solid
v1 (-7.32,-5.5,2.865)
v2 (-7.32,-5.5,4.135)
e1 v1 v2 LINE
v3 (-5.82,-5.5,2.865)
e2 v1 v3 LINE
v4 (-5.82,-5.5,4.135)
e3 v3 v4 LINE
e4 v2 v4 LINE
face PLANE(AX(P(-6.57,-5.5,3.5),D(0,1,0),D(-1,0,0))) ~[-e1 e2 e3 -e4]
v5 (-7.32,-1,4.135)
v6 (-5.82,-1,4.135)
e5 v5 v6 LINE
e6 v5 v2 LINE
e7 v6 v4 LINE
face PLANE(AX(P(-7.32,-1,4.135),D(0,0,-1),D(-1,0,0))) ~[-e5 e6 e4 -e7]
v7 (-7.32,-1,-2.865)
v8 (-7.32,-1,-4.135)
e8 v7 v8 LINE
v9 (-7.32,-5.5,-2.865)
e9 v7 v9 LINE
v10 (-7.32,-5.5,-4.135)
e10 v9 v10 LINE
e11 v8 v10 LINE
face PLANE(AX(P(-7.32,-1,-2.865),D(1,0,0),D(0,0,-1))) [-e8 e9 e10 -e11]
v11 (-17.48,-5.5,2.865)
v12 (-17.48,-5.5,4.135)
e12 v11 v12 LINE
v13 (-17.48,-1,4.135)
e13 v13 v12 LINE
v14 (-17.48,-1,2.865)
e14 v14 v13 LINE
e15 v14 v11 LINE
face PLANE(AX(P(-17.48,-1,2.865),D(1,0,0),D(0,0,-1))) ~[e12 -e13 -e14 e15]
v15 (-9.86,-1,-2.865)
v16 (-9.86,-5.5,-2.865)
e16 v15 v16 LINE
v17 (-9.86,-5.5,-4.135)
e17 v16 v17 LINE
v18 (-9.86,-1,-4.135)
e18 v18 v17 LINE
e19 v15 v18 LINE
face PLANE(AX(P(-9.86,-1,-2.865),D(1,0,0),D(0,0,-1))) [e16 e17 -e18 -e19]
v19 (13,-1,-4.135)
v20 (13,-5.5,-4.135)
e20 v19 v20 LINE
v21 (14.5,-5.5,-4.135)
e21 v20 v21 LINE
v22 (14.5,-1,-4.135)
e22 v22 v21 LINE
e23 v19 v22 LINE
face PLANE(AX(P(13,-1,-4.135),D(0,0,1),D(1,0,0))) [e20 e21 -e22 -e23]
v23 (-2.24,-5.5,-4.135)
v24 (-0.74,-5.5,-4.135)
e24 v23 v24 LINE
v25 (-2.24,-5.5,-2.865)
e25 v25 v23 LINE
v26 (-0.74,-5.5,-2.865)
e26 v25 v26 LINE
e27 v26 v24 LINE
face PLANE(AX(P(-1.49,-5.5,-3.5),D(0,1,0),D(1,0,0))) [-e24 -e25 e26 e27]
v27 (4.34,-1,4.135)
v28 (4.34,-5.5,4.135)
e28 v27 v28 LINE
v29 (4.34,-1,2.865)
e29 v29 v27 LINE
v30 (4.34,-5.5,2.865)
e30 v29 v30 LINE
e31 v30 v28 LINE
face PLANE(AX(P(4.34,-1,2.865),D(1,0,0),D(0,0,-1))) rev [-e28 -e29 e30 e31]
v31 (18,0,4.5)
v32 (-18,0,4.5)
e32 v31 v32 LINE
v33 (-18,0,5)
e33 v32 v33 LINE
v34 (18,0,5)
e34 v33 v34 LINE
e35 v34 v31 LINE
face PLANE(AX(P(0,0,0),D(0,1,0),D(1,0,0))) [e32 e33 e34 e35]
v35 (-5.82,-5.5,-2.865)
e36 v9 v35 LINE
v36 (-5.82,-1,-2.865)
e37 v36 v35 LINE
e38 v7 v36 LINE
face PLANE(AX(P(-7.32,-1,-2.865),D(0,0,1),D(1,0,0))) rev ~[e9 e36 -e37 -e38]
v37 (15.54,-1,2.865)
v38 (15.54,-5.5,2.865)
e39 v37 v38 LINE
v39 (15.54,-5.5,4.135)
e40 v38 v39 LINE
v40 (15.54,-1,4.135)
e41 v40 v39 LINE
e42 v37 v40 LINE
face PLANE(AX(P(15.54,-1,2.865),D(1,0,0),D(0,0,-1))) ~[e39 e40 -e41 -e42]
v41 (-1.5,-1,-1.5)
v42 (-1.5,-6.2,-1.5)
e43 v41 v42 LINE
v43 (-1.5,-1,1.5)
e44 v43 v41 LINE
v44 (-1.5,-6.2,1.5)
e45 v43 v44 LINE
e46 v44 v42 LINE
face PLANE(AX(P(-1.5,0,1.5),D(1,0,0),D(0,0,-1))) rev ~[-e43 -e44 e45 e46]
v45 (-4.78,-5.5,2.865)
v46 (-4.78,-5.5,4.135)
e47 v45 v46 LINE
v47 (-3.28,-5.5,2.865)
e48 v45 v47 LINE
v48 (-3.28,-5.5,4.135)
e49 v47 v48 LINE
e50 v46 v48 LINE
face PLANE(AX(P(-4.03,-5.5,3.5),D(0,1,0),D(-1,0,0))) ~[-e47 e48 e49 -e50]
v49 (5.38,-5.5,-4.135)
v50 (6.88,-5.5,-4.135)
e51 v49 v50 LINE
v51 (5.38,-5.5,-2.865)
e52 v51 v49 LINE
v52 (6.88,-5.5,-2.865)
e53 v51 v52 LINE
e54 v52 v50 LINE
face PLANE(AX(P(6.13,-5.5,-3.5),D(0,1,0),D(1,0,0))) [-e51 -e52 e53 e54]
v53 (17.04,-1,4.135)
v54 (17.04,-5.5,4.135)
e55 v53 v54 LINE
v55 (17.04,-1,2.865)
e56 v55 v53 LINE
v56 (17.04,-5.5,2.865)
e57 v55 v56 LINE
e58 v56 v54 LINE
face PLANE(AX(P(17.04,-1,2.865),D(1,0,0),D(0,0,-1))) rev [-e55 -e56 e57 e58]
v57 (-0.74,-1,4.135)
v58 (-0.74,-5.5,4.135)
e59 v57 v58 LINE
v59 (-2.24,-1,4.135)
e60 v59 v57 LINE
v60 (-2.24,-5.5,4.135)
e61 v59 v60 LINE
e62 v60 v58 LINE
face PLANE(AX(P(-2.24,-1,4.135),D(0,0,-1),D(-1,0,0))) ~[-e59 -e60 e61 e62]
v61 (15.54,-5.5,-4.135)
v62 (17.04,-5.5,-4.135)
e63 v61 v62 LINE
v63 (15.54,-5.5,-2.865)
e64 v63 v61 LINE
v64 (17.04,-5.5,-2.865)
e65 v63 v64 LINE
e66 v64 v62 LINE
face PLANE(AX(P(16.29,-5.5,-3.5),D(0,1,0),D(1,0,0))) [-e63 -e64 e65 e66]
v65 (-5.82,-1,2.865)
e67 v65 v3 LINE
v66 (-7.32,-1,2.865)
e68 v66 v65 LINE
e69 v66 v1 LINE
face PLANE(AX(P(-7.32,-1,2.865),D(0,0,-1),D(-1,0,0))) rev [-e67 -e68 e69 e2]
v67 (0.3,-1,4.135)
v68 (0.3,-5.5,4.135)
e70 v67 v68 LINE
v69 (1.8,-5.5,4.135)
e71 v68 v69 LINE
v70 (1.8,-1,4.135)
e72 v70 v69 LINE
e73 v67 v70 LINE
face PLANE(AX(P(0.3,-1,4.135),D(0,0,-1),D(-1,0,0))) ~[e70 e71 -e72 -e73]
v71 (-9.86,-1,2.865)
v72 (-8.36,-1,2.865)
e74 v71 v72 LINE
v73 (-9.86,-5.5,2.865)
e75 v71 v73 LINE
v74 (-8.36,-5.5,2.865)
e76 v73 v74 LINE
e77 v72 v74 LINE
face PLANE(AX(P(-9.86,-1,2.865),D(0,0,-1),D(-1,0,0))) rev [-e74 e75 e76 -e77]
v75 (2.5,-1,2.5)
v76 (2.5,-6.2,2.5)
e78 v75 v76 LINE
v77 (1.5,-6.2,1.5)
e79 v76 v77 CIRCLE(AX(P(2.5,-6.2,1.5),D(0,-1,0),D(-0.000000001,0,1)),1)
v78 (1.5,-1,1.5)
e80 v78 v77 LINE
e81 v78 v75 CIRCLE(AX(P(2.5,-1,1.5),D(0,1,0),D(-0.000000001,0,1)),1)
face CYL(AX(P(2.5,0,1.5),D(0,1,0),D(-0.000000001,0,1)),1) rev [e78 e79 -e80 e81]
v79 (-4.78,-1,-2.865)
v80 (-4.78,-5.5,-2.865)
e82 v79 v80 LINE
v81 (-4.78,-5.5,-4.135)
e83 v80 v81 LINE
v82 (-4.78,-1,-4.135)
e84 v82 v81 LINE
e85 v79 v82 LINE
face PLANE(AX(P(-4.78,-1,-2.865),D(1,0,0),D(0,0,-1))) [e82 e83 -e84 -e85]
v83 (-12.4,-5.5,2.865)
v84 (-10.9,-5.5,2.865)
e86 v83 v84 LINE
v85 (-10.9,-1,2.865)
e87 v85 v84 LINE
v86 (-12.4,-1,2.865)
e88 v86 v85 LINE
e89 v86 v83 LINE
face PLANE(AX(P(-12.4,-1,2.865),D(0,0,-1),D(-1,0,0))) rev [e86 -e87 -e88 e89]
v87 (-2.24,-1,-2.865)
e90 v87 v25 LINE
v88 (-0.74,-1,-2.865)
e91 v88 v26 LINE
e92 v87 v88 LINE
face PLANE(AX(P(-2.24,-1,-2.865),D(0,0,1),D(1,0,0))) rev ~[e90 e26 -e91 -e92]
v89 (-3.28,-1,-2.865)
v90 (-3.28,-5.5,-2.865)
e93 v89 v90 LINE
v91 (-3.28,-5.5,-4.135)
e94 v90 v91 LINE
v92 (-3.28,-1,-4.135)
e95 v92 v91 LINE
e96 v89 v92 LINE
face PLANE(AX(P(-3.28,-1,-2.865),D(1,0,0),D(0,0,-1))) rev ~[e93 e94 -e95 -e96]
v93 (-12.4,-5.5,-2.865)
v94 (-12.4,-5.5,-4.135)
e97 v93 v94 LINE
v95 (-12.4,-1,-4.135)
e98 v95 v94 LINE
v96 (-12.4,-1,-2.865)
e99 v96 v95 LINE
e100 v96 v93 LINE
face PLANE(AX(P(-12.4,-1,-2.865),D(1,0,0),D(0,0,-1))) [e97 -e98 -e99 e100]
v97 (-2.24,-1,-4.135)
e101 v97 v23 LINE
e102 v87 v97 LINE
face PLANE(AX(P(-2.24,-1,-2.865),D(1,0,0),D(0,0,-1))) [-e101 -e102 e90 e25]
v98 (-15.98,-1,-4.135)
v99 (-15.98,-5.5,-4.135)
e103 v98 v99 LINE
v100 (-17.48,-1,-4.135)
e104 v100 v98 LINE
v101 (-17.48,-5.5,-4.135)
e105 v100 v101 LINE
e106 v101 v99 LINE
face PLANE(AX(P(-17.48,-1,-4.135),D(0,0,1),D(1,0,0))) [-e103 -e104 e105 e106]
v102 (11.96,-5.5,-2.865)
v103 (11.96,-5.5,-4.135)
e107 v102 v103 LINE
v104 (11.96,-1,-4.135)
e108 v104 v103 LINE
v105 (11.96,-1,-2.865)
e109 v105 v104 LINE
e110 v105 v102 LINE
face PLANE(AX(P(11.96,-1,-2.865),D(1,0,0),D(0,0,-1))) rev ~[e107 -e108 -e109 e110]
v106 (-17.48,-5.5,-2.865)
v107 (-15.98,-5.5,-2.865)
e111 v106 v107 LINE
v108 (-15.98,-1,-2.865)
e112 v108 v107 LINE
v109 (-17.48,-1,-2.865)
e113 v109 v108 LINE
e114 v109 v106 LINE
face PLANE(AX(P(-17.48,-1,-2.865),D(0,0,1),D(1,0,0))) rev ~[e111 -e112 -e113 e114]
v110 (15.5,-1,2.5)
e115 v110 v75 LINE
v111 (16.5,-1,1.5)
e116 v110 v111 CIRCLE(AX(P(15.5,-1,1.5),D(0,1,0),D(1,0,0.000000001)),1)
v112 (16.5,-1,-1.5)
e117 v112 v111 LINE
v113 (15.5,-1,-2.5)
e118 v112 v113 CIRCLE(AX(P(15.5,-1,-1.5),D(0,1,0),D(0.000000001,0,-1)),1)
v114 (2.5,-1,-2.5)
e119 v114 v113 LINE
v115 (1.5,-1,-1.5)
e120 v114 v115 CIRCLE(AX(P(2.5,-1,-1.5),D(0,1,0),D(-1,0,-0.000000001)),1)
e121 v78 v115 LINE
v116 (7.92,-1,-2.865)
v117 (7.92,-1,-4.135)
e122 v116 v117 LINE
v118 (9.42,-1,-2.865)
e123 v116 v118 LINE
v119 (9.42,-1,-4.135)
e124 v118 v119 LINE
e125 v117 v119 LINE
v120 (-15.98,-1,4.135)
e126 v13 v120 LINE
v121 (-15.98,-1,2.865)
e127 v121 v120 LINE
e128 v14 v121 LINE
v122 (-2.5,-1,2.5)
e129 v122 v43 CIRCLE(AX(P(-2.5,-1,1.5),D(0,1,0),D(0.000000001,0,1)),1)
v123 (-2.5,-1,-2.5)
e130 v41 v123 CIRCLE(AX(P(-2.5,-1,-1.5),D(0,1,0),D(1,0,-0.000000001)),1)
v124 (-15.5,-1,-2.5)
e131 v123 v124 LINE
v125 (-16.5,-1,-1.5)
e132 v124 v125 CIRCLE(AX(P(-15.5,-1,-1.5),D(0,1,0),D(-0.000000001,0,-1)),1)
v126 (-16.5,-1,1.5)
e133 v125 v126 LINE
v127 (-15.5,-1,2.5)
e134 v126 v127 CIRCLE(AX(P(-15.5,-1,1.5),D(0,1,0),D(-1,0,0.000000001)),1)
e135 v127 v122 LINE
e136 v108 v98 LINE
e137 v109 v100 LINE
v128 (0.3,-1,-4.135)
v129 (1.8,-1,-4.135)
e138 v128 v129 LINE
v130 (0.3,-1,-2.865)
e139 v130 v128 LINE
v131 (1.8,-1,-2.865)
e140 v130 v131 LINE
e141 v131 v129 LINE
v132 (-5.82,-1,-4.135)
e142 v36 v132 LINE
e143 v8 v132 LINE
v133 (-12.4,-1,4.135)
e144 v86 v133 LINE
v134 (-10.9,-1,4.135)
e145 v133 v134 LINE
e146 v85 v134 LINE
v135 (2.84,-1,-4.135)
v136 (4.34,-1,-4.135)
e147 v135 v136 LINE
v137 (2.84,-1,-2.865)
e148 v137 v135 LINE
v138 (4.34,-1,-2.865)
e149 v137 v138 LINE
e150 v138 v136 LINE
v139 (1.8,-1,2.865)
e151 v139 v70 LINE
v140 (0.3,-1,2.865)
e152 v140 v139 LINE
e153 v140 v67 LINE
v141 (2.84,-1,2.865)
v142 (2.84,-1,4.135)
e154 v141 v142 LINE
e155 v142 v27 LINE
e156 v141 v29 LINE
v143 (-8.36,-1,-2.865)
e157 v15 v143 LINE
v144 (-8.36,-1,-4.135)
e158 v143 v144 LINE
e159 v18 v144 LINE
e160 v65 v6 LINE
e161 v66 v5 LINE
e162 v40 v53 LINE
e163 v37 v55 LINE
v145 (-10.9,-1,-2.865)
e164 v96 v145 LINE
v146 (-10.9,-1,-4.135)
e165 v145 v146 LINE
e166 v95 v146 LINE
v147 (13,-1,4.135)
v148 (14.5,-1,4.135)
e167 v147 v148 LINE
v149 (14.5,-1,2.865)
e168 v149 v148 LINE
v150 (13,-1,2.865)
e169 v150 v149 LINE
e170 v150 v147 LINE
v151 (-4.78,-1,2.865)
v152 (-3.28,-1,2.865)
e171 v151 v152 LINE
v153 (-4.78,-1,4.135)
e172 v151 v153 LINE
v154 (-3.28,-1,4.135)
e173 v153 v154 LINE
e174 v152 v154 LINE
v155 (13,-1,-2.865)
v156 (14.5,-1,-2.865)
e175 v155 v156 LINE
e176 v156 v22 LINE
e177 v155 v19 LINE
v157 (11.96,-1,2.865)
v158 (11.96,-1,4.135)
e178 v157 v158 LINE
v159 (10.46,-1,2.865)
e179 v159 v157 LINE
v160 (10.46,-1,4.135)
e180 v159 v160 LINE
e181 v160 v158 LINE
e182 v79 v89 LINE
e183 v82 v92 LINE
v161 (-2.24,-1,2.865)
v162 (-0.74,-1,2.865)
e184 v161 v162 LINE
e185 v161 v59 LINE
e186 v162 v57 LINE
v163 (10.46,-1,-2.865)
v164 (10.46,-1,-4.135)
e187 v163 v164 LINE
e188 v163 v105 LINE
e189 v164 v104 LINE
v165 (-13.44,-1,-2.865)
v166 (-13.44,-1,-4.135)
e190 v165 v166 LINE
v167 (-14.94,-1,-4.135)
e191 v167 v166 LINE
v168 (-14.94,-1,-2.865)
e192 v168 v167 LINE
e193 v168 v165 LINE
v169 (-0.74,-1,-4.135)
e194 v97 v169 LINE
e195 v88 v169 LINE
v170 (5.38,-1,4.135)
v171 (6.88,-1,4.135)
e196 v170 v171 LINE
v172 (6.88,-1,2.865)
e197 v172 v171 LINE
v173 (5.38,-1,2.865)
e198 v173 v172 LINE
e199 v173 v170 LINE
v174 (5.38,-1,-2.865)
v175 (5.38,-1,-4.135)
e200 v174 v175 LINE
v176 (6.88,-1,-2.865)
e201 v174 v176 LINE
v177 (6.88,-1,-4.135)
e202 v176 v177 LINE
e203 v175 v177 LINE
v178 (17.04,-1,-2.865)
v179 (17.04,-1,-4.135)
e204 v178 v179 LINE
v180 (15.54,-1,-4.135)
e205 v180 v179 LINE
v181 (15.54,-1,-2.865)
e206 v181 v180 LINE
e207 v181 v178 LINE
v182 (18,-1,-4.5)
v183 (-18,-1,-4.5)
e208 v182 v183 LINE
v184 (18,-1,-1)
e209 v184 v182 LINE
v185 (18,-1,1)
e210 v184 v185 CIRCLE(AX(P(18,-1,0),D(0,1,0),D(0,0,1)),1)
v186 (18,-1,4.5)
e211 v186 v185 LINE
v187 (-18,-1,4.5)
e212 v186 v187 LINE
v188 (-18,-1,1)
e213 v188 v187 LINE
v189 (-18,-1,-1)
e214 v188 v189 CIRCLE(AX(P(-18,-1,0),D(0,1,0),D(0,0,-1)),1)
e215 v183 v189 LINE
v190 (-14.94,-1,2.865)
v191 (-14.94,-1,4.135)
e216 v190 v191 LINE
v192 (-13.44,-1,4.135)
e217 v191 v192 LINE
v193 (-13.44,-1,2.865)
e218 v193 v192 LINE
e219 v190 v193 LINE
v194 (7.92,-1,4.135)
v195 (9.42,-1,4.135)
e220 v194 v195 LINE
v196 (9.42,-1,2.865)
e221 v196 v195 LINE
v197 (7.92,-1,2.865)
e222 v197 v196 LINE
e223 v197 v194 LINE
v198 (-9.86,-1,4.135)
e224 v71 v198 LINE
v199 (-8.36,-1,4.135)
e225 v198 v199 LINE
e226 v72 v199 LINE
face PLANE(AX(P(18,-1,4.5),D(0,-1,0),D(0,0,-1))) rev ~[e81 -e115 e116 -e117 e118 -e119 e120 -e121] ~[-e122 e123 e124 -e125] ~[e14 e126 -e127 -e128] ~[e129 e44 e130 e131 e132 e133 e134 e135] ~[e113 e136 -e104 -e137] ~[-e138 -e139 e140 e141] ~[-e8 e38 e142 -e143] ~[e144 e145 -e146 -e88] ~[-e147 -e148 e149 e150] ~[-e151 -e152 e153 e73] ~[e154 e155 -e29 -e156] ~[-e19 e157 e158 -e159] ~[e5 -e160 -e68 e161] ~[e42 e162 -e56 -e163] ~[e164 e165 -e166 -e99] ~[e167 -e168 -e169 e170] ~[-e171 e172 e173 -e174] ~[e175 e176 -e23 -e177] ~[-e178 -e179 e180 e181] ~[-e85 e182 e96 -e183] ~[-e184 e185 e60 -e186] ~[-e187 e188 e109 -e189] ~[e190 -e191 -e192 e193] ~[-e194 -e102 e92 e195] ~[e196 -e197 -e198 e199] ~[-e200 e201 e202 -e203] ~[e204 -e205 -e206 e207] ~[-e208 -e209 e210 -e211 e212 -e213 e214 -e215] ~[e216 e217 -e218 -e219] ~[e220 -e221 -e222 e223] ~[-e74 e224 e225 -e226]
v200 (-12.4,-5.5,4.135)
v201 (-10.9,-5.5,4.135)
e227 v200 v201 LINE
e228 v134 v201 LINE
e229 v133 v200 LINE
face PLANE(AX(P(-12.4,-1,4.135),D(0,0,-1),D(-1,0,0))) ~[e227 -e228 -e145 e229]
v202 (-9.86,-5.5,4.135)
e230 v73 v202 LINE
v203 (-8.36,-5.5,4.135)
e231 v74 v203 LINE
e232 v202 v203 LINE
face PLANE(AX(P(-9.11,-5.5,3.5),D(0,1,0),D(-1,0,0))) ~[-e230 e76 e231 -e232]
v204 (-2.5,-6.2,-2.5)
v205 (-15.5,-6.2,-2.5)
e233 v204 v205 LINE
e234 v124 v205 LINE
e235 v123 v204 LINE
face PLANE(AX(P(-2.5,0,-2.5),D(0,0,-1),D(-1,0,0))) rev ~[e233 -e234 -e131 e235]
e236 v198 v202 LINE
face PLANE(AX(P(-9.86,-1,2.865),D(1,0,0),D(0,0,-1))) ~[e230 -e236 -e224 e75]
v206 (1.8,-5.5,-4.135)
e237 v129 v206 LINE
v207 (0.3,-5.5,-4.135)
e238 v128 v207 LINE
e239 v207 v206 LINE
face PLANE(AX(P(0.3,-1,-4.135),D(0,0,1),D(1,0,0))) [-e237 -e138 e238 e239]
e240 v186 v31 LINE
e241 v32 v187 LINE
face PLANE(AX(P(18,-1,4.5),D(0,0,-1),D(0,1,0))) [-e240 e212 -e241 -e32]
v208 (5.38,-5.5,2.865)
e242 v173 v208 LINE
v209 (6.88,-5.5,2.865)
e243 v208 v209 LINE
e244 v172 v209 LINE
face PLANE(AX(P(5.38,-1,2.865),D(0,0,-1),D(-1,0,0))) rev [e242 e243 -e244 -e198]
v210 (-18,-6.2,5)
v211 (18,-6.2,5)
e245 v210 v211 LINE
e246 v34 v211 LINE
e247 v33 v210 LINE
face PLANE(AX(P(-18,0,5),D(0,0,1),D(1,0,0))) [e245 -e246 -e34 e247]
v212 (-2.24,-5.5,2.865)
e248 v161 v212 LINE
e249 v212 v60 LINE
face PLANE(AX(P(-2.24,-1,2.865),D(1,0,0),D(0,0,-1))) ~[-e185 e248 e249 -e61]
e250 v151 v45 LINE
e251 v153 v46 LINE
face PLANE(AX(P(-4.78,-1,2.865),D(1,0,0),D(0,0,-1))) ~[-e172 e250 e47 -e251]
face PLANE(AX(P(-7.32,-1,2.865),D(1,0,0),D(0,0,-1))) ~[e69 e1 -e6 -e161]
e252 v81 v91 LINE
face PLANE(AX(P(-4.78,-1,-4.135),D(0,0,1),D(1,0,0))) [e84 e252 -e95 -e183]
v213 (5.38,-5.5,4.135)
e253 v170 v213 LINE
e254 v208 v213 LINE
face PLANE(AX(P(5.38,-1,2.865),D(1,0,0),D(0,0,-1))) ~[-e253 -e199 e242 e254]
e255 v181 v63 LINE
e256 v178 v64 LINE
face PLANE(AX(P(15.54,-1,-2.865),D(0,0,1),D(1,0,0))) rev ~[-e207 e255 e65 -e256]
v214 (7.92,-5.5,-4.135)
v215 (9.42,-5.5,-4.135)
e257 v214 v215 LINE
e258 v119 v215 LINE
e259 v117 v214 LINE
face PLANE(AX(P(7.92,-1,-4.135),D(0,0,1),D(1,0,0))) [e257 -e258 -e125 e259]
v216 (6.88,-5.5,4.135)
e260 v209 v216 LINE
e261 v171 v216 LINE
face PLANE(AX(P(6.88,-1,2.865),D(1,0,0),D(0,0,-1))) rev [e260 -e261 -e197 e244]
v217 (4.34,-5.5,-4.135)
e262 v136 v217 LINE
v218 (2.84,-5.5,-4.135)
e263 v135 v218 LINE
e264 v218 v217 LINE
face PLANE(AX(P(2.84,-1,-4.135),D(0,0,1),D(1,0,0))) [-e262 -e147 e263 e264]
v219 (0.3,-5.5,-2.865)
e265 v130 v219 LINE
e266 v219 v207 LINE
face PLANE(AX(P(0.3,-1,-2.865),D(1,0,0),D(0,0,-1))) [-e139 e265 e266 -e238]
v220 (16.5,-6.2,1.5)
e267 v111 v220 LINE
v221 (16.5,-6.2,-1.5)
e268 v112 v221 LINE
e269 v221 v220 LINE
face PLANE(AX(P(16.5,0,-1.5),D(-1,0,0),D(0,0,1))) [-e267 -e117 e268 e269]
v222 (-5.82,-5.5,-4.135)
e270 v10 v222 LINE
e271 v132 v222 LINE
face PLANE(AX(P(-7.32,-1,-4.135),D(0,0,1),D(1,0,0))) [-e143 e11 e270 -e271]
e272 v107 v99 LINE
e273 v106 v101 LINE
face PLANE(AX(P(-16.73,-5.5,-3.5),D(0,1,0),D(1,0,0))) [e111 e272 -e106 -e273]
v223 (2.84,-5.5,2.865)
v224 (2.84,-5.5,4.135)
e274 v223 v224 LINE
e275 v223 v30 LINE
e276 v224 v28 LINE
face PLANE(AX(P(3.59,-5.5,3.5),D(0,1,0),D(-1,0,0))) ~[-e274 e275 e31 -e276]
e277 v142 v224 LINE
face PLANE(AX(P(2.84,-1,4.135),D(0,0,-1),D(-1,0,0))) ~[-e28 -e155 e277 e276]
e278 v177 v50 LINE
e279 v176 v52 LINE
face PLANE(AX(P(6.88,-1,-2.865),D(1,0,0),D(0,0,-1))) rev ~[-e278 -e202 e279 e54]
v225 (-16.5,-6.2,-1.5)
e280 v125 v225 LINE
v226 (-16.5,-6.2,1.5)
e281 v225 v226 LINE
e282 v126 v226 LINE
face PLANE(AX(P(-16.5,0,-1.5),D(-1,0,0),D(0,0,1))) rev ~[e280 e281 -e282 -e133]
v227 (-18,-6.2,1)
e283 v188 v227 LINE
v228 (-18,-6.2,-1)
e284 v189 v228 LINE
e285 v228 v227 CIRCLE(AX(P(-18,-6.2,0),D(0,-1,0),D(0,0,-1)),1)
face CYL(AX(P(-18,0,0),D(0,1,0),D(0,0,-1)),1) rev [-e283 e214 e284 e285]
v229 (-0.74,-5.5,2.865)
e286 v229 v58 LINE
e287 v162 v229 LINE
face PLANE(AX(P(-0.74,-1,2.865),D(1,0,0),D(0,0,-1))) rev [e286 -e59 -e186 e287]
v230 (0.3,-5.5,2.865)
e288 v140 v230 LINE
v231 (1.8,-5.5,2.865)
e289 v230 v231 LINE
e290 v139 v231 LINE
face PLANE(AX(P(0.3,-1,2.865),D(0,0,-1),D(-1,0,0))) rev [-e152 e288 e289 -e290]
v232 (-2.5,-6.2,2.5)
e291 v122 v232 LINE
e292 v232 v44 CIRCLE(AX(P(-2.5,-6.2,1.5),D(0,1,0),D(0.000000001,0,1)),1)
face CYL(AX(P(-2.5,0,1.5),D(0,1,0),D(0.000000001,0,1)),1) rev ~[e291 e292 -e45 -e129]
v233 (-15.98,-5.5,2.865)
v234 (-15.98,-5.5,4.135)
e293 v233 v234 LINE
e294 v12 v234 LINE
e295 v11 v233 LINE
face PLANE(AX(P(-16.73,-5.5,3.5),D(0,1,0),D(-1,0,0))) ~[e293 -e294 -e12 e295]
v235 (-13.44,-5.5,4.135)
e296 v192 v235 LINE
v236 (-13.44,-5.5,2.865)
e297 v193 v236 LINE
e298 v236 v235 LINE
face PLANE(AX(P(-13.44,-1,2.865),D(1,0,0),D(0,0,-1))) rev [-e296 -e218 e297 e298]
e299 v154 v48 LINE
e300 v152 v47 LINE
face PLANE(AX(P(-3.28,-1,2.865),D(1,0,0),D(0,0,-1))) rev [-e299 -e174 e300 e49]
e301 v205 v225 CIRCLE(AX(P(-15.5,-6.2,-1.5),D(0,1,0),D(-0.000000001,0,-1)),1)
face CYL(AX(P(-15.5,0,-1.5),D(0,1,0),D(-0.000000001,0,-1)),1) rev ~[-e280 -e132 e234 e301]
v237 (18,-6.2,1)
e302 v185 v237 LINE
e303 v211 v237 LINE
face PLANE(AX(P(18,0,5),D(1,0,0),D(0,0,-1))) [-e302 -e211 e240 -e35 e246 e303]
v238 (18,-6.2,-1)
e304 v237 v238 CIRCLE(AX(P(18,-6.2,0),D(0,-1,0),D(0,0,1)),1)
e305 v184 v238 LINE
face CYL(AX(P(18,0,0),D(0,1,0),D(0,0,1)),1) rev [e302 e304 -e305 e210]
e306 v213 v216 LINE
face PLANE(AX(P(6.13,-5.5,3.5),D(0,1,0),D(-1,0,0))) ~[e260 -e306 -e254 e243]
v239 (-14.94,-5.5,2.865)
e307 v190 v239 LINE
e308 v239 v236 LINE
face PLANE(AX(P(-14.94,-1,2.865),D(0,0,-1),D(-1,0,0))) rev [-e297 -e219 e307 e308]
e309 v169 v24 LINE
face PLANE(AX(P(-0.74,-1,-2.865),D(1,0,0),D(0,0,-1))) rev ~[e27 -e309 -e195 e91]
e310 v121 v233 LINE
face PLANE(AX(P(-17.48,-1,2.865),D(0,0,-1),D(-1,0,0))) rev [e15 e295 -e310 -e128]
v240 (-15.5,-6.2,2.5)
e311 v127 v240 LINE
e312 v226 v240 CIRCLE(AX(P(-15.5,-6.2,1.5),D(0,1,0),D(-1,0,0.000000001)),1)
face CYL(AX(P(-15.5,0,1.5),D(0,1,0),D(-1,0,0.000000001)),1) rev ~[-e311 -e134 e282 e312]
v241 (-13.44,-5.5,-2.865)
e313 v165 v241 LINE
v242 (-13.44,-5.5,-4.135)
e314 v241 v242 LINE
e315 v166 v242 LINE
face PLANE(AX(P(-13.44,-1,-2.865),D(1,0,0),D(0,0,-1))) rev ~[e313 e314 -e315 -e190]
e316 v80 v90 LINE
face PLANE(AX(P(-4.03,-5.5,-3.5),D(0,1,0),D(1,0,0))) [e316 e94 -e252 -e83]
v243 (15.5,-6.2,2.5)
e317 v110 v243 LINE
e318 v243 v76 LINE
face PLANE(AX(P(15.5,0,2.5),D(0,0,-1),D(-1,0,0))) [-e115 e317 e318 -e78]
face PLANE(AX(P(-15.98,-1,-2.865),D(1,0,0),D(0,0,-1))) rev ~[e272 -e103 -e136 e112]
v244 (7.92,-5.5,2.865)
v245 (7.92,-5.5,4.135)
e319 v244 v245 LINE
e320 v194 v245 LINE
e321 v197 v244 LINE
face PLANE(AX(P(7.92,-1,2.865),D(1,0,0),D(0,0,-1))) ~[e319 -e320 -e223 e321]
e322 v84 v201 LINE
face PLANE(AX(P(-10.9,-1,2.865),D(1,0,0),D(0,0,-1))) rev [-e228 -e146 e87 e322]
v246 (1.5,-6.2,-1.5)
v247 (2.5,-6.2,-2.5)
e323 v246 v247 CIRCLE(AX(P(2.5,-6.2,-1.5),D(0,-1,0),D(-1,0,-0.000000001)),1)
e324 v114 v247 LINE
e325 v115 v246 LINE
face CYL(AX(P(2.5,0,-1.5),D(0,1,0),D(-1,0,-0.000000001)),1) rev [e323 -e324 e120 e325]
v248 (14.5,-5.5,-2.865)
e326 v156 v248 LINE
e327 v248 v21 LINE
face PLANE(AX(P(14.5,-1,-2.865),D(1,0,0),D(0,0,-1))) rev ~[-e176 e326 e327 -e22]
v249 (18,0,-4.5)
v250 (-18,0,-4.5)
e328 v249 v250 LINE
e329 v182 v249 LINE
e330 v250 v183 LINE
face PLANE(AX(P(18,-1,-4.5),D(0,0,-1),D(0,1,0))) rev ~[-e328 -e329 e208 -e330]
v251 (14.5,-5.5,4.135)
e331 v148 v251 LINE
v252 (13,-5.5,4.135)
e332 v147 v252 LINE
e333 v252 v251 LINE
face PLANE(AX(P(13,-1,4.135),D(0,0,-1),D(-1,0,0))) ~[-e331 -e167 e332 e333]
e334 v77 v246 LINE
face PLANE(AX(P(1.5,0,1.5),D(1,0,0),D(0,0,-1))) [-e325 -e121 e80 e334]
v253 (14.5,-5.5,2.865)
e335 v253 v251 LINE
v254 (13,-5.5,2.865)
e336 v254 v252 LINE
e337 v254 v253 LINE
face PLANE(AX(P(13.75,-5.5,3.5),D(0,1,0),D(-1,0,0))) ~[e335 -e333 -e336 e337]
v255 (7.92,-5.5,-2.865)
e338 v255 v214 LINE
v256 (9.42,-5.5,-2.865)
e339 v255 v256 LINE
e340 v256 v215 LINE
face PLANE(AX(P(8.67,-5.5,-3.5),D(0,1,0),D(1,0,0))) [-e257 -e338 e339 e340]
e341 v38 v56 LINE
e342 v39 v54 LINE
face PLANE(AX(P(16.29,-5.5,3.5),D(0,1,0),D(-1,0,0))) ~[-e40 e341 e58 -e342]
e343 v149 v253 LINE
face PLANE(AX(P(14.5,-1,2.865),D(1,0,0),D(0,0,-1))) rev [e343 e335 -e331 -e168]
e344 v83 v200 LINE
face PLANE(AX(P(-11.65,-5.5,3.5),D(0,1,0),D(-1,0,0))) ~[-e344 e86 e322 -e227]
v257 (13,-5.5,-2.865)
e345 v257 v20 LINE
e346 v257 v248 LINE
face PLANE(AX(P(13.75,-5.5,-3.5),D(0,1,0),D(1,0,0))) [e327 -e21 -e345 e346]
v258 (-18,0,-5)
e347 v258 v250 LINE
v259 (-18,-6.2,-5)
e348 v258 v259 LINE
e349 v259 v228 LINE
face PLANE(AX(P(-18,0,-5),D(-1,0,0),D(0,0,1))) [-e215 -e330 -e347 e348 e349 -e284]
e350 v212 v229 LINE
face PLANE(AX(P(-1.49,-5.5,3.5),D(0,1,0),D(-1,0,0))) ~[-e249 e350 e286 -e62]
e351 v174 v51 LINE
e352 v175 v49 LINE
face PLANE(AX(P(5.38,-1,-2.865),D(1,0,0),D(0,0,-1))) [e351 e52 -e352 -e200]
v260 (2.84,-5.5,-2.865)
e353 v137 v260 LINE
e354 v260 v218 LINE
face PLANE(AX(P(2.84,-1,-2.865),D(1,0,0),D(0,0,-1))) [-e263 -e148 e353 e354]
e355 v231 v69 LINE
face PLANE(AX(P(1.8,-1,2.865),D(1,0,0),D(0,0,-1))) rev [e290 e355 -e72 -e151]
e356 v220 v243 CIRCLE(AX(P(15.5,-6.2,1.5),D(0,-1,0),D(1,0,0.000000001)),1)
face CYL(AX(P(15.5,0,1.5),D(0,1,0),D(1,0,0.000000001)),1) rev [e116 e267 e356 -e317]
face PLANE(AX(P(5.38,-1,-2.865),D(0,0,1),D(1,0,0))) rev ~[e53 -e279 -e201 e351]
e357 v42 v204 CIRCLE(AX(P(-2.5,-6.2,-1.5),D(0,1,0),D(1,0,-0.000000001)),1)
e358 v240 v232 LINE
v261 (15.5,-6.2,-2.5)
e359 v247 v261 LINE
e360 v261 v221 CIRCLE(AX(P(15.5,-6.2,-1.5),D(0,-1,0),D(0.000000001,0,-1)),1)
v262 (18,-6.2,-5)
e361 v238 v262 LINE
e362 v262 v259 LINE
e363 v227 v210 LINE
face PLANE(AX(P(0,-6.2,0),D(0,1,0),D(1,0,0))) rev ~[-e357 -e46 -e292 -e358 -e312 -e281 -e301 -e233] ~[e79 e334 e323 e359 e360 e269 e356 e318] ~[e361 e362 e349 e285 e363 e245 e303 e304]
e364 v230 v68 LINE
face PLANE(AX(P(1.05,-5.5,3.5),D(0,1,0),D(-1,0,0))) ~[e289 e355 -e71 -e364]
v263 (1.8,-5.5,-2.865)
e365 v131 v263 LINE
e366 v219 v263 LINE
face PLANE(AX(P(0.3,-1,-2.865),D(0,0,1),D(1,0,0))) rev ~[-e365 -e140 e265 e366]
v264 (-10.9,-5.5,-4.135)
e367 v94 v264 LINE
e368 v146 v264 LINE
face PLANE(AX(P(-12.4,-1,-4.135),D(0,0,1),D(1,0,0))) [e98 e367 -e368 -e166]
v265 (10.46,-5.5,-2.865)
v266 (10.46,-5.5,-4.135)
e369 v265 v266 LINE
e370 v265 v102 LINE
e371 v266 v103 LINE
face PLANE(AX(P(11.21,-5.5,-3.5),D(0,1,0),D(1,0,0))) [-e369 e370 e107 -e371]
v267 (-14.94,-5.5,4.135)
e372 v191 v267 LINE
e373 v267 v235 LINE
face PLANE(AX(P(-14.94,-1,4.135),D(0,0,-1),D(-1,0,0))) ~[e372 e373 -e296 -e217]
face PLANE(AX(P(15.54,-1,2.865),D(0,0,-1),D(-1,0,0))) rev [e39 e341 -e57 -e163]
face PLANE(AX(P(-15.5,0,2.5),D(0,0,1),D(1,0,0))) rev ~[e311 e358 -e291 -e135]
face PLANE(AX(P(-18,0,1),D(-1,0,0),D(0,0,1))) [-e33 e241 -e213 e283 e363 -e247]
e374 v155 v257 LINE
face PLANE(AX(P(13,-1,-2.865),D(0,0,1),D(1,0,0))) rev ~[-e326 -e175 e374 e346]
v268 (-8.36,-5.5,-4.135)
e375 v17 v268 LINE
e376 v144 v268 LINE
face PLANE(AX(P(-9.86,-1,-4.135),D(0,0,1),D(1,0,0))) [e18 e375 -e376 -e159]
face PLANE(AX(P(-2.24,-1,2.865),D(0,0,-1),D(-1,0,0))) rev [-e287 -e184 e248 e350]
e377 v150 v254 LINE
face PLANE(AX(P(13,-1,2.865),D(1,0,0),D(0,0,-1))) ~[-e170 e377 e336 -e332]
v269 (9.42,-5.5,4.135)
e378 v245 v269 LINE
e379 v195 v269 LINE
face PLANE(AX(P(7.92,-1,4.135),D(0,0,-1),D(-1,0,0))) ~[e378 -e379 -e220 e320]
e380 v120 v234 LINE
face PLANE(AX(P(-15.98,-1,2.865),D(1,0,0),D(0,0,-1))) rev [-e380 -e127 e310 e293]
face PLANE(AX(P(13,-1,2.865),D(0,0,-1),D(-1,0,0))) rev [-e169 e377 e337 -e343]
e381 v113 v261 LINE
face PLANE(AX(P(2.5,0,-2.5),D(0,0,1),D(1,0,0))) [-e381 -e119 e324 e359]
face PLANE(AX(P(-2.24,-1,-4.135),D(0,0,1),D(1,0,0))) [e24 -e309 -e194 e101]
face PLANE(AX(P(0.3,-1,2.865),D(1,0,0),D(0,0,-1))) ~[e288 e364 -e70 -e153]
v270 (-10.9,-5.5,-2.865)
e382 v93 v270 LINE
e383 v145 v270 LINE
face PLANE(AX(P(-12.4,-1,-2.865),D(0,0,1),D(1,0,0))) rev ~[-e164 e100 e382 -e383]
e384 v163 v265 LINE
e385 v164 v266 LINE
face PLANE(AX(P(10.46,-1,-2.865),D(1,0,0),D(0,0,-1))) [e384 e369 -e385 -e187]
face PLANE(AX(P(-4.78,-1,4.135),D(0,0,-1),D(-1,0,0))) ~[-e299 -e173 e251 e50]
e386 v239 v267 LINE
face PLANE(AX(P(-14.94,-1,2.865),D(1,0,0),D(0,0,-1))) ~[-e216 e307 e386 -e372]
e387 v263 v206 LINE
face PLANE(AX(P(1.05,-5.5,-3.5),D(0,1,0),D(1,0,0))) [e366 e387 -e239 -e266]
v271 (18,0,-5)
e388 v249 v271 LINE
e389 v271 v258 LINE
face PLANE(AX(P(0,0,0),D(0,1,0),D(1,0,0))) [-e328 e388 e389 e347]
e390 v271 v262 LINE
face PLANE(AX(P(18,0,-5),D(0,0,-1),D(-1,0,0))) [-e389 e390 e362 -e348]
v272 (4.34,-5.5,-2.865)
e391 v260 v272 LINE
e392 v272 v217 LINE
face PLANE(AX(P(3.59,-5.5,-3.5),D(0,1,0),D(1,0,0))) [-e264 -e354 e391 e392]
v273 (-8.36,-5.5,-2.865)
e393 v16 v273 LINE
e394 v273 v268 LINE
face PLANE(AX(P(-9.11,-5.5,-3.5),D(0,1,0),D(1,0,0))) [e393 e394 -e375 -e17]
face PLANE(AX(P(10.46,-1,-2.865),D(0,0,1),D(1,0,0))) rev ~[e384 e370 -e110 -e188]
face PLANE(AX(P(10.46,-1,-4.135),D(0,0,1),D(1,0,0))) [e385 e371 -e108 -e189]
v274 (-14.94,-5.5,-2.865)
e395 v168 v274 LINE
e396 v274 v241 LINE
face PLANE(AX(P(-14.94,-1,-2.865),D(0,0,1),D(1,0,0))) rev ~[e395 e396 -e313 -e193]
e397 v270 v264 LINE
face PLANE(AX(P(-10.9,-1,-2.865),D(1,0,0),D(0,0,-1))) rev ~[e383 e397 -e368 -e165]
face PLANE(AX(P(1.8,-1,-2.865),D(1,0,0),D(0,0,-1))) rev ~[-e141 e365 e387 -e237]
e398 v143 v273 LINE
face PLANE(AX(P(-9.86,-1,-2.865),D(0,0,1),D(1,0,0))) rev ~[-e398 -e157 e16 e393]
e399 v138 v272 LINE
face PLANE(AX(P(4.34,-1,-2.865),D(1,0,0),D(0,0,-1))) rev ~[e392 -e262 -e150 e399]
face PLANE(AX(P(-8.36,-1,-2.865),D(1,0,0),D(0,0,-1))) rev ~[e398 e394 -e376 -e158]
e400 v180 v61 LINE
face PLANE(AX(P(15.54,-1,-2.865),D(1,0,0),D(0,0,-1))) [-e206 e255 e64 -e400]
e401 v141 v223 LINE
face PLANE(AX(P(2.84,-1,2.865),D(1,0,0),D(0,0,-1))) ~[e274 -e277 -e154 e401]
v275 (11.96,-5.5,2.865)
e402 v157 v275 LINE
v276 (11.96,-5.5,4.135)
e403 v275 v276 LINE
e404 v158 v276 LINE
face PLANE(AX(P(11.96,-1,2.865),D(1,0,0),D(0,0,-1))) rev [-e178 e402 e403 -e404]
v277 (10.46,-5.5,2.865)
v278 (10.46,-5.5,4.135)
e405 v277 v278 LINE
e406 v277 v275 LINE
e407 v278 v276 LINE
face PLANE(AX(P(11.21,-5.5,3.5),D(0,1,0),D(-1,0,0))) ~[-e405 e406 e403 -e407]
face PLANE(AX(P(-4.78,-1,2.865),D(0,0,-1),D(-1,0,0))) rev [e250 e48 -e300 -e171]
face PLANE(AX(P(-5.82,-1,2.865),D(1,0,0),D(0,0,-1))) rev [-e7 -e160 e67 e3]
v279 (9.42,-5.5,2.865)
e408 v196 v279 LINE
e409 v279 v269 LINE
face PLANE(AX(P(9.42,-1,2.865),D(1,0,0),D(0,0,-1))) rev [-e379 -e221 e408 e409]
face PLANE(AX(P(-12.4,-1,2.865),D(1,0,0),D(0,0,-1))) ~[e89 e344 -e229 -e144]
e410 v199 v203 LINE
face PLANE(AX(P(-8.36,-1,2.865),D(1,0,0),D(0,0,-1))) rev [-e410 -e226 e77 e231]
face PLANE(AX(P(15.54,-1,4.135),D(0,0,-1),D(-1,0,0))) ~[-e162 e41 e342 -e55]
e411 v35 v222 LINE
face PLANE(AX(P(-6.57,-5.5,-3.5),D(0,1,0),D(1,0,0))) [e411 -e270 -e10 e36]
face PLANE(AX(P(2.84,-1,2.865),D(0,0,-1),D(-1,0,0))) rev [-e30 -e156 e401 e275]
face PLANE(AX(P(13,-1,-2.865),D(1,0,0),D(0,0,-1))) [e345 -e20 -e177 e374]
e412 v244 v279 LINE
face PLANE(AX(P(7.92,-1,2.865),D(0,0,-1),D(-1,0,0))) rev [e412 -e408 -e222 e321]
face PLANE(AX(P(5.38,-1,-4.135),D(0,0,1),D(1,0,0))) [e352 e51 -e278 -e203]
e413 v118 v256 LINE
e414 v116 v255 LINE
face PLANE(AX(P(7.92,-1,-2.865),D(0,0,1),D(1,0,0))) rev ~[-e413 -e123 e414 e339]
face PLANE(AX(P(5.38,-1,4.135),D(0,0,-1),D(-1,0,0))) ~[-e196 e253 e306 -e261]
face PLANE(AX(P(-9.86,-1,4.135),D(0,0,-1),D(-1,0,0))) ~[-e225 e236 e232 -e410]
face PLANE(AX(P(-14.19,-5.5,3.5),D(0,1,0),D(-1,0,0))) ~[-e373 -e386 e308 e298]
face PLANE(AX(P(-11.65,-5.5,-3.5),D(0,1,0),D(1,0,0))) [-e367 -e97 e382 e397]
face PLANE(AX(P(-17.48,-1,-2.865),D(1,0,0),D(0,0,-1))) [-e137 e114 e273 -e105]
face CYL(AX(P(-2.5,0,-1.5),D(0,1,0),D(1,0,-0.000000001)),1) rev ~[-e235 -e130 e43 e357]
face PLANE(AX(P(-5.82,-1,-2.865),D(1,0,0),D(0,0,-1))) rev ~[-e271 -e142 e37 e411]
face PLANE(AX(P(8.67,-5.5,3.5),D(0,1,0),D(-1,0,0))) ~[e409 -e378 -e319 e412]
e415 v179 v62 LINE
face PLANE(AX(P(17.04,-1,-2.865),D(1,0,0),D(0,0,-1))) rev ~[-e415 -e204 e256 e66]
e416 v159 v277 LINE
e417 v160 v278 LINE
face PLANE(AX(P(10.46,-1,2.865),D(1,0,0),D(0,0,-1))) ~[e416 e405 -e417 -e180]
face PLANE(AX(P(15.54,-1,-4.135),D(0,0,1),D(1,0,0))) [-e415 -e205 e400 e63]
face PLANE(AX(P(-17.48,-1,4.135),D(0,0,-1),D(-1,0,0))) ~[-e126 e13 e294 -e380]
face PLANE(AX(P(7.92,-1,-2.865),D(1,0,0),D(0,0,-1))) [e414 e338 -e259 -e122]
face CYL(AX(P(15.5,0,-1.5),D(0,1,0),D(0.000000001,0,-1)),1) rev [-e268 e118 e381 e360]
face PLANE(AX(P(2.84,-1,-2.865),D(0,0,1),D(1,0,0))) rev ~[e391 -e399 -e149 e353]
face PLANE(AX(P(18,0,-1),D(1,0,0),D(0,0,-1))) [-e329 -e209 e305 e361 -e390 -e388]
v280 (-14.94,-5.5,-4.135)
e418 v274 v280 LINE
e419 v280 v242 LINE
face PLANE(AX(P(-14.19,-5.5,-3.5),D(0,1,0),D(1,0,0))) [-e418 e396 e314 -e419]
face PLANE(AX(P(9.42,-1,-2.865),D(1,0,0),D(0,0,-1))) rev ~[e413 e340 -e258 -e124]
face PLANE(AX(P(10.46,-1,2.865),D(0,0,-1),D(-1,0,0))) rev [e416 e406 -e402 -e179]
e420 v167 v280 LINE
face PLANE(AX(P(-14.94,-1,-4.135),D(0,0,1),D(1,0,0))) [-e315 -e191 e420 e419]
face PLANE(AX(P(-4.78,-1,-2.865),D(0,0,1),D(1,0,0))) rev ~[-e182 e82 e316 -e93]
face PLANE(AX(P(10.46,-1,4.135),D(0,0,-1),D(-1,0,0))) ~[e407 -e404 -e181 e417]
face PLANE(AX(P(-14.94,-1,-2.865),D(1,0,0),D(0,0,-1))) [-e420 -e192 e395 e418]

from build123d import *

# Parameters (mm, degrees)
BOSS_EXTRU_1_DEPTH      = 6.2
ESQUISSE4_W             = 9
ESQUISSE4_H             = 1.618443578
ENL_V_MAT_EXTRU_1_DEPTH = 40.6
ESQUISSE5_W             = 1.5
ESQUISSE5_H             = 1.27
ENL_V_MAT_EXTRU_2_DEPTH = 4.5


with BuildPart() as part:
    # Esquisse2 → Boss.-Extru.1 (new body)
    with BuildSketch(Plane(origin=(0, 0, 0), x_dir=(1, 0, 0), z_dir=(0, 1, 0))):
        with BuildLine():
            Line((-18, -5), (18, -5))
            Line((18, -5), (18, -1))
            ThreePointArc((18, -1), (17, 0), (18, 1))
            Line((18, 1), (18, 5))
            Line((18, 5), (-18, 5))
            Line((-18, 5), (-18, 1))
            ThreePointArc((-18, 1), (-17, 0), (-18, -1))
            Line((-18, -1), (-18, -5))
        make_face()
        with BuildLine():
            Line((1.5, -1.5), (1.5, 1.5))
            ThreePointArc((1.5, 1.5), (1.792893219, 2.207106781), (2.5, 2.5))
            Line((2.5, 2.5), (15.5, 2.5))
            ThreePointArc((15.5, 2.5), (16.207106781, 2.207106781), (16.5, 1.5))
            Line((16.5, 1.5), (16.5, -1.5))
            ThreePointArc((16.5, -1.5), (16.207106781, -2.207106781), (15.5, -2.5))
            Line((15.5, -2.5), (2.5, -2.5))
            ThreePointArc((2.5, -2.5), (1.792893219, -2.207106781), (1.5, -1.5))
        make_face(mode=Mode.SUBTRACT)
        with BuildLine():
            Line((-15.5, -2.5), (-2.5, -2.5))
            ThreePointArc((-2.5, -2.5), (-1.792893219, -2.207106781), (-1.5, -1.5))
            Line((-1.5, -1.5), (-1.5, 1.5))
            ThreePointArc((-1.5, 1.5), (-1.792893219, 2.207106781), (-2.5, 2.5))
            Line((-2.5, 2.5), (-15.5, 2.5))
            ThreePointArc((-15.5, 2.5), (-16.207106781, 2.207106781), (-16.5, 1.5))
            Line((-16.5, 1.5), (-16.5, -1.5))
            ThreePointArc((-16.5, -1.5), (-16.207106781, -2.207106781), (-15.5, -2.5))
        make_face(mode=Mode.SUBTRACT)
    extrude(amount=-BOSS_EXTRU_1_DEPTH)

    # Esquisse4 → Enlèv. mat.-Extru.1 (cut)
    with BuildSketch(Plane(origin=(18, 0, 0), x_dir=(0, 0, -1), z_dir=(1, 0, 0))):
        with Locations((0, -0.190778211)):
            Rectangle(ESQUISSE4_W, ESQUISSE4_H)
    extrude(amount=-ENL_V_MAT_EXTRU_1_DEPTH, mode=Mode.SUBTRACT)

    # Esquisse5 → Enlèv. mat.-Extru.2 (cut)
    with BuildSketch(Plane(origin=(0, -1, 0), x_dir=(1, 0, 0), z_dir=(0, 1, 0))):
        with Locations((-16.73, 3.5)):
            Rectangle(ESQUISSE5_W, ESQUISSE5_H)
        with Locations((-14.19, 3.5)):
            Rectangle(ESQUISSE5_W, ESQUISSE5_H)
        with Locations((-11.65, 3.5)):
            Rectangle(ESQUISSE5_W, ESQUISSE5_H)
        with Locations((-9.11, 3.5)):
            Rectangle(ESQUISSE5_W, ESQUISSE5_H)
        with Locations((-6.57, 3.5)):
            Rectangle(ESQUISSE5_W, ESQUISSE5_H)
        with Locations((-4.03, 3.5)):
            Rectangle(ESQUISSE5_W, ESQUISSE5_H)
        with Locations((-1.49, 3.5)):
            Rectangle(ESQUISSE5_W, ESQUISSE5_H)
        with Locations((1.05, 3.5)):
            Rectangle(ESQUISSE5_W, ESQUISSE5_H)
        with Locations((3.59, 3.5)):
            Rectangle(ESQUISSE5_W, ESQUISSE5_H)
        with Locations((6.13, 3.5)):
            Rectangle(ESQUISSE5_W, ESQUISSE5_H)
        with Locations((8.67, 3.5)):
            Rectangle(ESQUISSE5_W, ESQUISSE5_H)
        with Locations((11.21, 3.5)):
            Rectangle(ESQUISSE5_W, ESQUISSE5_H)
        with Locations((13.75, 3.5)):
            Rectangle(ESQUISSE5_W, ESQUISSE5_H)
        with Locations((16.29, 3.5)):
            Rectangle(ESQUISSE5_W, ESQUISSE5_H)
    enl_v_mat_extru_2 = extrude(amount=-ENL_V_MAT_EXTRU_2_DEPTH, mode=Mode.SUBTRACT)

    # Symétrie1: Enlèv. mat.-Extru.2 across plane
    add(enl_v_mat_extru_2.mirror(Plane.XY), mode=Mode.SUBTRACT)


solid = part.part
